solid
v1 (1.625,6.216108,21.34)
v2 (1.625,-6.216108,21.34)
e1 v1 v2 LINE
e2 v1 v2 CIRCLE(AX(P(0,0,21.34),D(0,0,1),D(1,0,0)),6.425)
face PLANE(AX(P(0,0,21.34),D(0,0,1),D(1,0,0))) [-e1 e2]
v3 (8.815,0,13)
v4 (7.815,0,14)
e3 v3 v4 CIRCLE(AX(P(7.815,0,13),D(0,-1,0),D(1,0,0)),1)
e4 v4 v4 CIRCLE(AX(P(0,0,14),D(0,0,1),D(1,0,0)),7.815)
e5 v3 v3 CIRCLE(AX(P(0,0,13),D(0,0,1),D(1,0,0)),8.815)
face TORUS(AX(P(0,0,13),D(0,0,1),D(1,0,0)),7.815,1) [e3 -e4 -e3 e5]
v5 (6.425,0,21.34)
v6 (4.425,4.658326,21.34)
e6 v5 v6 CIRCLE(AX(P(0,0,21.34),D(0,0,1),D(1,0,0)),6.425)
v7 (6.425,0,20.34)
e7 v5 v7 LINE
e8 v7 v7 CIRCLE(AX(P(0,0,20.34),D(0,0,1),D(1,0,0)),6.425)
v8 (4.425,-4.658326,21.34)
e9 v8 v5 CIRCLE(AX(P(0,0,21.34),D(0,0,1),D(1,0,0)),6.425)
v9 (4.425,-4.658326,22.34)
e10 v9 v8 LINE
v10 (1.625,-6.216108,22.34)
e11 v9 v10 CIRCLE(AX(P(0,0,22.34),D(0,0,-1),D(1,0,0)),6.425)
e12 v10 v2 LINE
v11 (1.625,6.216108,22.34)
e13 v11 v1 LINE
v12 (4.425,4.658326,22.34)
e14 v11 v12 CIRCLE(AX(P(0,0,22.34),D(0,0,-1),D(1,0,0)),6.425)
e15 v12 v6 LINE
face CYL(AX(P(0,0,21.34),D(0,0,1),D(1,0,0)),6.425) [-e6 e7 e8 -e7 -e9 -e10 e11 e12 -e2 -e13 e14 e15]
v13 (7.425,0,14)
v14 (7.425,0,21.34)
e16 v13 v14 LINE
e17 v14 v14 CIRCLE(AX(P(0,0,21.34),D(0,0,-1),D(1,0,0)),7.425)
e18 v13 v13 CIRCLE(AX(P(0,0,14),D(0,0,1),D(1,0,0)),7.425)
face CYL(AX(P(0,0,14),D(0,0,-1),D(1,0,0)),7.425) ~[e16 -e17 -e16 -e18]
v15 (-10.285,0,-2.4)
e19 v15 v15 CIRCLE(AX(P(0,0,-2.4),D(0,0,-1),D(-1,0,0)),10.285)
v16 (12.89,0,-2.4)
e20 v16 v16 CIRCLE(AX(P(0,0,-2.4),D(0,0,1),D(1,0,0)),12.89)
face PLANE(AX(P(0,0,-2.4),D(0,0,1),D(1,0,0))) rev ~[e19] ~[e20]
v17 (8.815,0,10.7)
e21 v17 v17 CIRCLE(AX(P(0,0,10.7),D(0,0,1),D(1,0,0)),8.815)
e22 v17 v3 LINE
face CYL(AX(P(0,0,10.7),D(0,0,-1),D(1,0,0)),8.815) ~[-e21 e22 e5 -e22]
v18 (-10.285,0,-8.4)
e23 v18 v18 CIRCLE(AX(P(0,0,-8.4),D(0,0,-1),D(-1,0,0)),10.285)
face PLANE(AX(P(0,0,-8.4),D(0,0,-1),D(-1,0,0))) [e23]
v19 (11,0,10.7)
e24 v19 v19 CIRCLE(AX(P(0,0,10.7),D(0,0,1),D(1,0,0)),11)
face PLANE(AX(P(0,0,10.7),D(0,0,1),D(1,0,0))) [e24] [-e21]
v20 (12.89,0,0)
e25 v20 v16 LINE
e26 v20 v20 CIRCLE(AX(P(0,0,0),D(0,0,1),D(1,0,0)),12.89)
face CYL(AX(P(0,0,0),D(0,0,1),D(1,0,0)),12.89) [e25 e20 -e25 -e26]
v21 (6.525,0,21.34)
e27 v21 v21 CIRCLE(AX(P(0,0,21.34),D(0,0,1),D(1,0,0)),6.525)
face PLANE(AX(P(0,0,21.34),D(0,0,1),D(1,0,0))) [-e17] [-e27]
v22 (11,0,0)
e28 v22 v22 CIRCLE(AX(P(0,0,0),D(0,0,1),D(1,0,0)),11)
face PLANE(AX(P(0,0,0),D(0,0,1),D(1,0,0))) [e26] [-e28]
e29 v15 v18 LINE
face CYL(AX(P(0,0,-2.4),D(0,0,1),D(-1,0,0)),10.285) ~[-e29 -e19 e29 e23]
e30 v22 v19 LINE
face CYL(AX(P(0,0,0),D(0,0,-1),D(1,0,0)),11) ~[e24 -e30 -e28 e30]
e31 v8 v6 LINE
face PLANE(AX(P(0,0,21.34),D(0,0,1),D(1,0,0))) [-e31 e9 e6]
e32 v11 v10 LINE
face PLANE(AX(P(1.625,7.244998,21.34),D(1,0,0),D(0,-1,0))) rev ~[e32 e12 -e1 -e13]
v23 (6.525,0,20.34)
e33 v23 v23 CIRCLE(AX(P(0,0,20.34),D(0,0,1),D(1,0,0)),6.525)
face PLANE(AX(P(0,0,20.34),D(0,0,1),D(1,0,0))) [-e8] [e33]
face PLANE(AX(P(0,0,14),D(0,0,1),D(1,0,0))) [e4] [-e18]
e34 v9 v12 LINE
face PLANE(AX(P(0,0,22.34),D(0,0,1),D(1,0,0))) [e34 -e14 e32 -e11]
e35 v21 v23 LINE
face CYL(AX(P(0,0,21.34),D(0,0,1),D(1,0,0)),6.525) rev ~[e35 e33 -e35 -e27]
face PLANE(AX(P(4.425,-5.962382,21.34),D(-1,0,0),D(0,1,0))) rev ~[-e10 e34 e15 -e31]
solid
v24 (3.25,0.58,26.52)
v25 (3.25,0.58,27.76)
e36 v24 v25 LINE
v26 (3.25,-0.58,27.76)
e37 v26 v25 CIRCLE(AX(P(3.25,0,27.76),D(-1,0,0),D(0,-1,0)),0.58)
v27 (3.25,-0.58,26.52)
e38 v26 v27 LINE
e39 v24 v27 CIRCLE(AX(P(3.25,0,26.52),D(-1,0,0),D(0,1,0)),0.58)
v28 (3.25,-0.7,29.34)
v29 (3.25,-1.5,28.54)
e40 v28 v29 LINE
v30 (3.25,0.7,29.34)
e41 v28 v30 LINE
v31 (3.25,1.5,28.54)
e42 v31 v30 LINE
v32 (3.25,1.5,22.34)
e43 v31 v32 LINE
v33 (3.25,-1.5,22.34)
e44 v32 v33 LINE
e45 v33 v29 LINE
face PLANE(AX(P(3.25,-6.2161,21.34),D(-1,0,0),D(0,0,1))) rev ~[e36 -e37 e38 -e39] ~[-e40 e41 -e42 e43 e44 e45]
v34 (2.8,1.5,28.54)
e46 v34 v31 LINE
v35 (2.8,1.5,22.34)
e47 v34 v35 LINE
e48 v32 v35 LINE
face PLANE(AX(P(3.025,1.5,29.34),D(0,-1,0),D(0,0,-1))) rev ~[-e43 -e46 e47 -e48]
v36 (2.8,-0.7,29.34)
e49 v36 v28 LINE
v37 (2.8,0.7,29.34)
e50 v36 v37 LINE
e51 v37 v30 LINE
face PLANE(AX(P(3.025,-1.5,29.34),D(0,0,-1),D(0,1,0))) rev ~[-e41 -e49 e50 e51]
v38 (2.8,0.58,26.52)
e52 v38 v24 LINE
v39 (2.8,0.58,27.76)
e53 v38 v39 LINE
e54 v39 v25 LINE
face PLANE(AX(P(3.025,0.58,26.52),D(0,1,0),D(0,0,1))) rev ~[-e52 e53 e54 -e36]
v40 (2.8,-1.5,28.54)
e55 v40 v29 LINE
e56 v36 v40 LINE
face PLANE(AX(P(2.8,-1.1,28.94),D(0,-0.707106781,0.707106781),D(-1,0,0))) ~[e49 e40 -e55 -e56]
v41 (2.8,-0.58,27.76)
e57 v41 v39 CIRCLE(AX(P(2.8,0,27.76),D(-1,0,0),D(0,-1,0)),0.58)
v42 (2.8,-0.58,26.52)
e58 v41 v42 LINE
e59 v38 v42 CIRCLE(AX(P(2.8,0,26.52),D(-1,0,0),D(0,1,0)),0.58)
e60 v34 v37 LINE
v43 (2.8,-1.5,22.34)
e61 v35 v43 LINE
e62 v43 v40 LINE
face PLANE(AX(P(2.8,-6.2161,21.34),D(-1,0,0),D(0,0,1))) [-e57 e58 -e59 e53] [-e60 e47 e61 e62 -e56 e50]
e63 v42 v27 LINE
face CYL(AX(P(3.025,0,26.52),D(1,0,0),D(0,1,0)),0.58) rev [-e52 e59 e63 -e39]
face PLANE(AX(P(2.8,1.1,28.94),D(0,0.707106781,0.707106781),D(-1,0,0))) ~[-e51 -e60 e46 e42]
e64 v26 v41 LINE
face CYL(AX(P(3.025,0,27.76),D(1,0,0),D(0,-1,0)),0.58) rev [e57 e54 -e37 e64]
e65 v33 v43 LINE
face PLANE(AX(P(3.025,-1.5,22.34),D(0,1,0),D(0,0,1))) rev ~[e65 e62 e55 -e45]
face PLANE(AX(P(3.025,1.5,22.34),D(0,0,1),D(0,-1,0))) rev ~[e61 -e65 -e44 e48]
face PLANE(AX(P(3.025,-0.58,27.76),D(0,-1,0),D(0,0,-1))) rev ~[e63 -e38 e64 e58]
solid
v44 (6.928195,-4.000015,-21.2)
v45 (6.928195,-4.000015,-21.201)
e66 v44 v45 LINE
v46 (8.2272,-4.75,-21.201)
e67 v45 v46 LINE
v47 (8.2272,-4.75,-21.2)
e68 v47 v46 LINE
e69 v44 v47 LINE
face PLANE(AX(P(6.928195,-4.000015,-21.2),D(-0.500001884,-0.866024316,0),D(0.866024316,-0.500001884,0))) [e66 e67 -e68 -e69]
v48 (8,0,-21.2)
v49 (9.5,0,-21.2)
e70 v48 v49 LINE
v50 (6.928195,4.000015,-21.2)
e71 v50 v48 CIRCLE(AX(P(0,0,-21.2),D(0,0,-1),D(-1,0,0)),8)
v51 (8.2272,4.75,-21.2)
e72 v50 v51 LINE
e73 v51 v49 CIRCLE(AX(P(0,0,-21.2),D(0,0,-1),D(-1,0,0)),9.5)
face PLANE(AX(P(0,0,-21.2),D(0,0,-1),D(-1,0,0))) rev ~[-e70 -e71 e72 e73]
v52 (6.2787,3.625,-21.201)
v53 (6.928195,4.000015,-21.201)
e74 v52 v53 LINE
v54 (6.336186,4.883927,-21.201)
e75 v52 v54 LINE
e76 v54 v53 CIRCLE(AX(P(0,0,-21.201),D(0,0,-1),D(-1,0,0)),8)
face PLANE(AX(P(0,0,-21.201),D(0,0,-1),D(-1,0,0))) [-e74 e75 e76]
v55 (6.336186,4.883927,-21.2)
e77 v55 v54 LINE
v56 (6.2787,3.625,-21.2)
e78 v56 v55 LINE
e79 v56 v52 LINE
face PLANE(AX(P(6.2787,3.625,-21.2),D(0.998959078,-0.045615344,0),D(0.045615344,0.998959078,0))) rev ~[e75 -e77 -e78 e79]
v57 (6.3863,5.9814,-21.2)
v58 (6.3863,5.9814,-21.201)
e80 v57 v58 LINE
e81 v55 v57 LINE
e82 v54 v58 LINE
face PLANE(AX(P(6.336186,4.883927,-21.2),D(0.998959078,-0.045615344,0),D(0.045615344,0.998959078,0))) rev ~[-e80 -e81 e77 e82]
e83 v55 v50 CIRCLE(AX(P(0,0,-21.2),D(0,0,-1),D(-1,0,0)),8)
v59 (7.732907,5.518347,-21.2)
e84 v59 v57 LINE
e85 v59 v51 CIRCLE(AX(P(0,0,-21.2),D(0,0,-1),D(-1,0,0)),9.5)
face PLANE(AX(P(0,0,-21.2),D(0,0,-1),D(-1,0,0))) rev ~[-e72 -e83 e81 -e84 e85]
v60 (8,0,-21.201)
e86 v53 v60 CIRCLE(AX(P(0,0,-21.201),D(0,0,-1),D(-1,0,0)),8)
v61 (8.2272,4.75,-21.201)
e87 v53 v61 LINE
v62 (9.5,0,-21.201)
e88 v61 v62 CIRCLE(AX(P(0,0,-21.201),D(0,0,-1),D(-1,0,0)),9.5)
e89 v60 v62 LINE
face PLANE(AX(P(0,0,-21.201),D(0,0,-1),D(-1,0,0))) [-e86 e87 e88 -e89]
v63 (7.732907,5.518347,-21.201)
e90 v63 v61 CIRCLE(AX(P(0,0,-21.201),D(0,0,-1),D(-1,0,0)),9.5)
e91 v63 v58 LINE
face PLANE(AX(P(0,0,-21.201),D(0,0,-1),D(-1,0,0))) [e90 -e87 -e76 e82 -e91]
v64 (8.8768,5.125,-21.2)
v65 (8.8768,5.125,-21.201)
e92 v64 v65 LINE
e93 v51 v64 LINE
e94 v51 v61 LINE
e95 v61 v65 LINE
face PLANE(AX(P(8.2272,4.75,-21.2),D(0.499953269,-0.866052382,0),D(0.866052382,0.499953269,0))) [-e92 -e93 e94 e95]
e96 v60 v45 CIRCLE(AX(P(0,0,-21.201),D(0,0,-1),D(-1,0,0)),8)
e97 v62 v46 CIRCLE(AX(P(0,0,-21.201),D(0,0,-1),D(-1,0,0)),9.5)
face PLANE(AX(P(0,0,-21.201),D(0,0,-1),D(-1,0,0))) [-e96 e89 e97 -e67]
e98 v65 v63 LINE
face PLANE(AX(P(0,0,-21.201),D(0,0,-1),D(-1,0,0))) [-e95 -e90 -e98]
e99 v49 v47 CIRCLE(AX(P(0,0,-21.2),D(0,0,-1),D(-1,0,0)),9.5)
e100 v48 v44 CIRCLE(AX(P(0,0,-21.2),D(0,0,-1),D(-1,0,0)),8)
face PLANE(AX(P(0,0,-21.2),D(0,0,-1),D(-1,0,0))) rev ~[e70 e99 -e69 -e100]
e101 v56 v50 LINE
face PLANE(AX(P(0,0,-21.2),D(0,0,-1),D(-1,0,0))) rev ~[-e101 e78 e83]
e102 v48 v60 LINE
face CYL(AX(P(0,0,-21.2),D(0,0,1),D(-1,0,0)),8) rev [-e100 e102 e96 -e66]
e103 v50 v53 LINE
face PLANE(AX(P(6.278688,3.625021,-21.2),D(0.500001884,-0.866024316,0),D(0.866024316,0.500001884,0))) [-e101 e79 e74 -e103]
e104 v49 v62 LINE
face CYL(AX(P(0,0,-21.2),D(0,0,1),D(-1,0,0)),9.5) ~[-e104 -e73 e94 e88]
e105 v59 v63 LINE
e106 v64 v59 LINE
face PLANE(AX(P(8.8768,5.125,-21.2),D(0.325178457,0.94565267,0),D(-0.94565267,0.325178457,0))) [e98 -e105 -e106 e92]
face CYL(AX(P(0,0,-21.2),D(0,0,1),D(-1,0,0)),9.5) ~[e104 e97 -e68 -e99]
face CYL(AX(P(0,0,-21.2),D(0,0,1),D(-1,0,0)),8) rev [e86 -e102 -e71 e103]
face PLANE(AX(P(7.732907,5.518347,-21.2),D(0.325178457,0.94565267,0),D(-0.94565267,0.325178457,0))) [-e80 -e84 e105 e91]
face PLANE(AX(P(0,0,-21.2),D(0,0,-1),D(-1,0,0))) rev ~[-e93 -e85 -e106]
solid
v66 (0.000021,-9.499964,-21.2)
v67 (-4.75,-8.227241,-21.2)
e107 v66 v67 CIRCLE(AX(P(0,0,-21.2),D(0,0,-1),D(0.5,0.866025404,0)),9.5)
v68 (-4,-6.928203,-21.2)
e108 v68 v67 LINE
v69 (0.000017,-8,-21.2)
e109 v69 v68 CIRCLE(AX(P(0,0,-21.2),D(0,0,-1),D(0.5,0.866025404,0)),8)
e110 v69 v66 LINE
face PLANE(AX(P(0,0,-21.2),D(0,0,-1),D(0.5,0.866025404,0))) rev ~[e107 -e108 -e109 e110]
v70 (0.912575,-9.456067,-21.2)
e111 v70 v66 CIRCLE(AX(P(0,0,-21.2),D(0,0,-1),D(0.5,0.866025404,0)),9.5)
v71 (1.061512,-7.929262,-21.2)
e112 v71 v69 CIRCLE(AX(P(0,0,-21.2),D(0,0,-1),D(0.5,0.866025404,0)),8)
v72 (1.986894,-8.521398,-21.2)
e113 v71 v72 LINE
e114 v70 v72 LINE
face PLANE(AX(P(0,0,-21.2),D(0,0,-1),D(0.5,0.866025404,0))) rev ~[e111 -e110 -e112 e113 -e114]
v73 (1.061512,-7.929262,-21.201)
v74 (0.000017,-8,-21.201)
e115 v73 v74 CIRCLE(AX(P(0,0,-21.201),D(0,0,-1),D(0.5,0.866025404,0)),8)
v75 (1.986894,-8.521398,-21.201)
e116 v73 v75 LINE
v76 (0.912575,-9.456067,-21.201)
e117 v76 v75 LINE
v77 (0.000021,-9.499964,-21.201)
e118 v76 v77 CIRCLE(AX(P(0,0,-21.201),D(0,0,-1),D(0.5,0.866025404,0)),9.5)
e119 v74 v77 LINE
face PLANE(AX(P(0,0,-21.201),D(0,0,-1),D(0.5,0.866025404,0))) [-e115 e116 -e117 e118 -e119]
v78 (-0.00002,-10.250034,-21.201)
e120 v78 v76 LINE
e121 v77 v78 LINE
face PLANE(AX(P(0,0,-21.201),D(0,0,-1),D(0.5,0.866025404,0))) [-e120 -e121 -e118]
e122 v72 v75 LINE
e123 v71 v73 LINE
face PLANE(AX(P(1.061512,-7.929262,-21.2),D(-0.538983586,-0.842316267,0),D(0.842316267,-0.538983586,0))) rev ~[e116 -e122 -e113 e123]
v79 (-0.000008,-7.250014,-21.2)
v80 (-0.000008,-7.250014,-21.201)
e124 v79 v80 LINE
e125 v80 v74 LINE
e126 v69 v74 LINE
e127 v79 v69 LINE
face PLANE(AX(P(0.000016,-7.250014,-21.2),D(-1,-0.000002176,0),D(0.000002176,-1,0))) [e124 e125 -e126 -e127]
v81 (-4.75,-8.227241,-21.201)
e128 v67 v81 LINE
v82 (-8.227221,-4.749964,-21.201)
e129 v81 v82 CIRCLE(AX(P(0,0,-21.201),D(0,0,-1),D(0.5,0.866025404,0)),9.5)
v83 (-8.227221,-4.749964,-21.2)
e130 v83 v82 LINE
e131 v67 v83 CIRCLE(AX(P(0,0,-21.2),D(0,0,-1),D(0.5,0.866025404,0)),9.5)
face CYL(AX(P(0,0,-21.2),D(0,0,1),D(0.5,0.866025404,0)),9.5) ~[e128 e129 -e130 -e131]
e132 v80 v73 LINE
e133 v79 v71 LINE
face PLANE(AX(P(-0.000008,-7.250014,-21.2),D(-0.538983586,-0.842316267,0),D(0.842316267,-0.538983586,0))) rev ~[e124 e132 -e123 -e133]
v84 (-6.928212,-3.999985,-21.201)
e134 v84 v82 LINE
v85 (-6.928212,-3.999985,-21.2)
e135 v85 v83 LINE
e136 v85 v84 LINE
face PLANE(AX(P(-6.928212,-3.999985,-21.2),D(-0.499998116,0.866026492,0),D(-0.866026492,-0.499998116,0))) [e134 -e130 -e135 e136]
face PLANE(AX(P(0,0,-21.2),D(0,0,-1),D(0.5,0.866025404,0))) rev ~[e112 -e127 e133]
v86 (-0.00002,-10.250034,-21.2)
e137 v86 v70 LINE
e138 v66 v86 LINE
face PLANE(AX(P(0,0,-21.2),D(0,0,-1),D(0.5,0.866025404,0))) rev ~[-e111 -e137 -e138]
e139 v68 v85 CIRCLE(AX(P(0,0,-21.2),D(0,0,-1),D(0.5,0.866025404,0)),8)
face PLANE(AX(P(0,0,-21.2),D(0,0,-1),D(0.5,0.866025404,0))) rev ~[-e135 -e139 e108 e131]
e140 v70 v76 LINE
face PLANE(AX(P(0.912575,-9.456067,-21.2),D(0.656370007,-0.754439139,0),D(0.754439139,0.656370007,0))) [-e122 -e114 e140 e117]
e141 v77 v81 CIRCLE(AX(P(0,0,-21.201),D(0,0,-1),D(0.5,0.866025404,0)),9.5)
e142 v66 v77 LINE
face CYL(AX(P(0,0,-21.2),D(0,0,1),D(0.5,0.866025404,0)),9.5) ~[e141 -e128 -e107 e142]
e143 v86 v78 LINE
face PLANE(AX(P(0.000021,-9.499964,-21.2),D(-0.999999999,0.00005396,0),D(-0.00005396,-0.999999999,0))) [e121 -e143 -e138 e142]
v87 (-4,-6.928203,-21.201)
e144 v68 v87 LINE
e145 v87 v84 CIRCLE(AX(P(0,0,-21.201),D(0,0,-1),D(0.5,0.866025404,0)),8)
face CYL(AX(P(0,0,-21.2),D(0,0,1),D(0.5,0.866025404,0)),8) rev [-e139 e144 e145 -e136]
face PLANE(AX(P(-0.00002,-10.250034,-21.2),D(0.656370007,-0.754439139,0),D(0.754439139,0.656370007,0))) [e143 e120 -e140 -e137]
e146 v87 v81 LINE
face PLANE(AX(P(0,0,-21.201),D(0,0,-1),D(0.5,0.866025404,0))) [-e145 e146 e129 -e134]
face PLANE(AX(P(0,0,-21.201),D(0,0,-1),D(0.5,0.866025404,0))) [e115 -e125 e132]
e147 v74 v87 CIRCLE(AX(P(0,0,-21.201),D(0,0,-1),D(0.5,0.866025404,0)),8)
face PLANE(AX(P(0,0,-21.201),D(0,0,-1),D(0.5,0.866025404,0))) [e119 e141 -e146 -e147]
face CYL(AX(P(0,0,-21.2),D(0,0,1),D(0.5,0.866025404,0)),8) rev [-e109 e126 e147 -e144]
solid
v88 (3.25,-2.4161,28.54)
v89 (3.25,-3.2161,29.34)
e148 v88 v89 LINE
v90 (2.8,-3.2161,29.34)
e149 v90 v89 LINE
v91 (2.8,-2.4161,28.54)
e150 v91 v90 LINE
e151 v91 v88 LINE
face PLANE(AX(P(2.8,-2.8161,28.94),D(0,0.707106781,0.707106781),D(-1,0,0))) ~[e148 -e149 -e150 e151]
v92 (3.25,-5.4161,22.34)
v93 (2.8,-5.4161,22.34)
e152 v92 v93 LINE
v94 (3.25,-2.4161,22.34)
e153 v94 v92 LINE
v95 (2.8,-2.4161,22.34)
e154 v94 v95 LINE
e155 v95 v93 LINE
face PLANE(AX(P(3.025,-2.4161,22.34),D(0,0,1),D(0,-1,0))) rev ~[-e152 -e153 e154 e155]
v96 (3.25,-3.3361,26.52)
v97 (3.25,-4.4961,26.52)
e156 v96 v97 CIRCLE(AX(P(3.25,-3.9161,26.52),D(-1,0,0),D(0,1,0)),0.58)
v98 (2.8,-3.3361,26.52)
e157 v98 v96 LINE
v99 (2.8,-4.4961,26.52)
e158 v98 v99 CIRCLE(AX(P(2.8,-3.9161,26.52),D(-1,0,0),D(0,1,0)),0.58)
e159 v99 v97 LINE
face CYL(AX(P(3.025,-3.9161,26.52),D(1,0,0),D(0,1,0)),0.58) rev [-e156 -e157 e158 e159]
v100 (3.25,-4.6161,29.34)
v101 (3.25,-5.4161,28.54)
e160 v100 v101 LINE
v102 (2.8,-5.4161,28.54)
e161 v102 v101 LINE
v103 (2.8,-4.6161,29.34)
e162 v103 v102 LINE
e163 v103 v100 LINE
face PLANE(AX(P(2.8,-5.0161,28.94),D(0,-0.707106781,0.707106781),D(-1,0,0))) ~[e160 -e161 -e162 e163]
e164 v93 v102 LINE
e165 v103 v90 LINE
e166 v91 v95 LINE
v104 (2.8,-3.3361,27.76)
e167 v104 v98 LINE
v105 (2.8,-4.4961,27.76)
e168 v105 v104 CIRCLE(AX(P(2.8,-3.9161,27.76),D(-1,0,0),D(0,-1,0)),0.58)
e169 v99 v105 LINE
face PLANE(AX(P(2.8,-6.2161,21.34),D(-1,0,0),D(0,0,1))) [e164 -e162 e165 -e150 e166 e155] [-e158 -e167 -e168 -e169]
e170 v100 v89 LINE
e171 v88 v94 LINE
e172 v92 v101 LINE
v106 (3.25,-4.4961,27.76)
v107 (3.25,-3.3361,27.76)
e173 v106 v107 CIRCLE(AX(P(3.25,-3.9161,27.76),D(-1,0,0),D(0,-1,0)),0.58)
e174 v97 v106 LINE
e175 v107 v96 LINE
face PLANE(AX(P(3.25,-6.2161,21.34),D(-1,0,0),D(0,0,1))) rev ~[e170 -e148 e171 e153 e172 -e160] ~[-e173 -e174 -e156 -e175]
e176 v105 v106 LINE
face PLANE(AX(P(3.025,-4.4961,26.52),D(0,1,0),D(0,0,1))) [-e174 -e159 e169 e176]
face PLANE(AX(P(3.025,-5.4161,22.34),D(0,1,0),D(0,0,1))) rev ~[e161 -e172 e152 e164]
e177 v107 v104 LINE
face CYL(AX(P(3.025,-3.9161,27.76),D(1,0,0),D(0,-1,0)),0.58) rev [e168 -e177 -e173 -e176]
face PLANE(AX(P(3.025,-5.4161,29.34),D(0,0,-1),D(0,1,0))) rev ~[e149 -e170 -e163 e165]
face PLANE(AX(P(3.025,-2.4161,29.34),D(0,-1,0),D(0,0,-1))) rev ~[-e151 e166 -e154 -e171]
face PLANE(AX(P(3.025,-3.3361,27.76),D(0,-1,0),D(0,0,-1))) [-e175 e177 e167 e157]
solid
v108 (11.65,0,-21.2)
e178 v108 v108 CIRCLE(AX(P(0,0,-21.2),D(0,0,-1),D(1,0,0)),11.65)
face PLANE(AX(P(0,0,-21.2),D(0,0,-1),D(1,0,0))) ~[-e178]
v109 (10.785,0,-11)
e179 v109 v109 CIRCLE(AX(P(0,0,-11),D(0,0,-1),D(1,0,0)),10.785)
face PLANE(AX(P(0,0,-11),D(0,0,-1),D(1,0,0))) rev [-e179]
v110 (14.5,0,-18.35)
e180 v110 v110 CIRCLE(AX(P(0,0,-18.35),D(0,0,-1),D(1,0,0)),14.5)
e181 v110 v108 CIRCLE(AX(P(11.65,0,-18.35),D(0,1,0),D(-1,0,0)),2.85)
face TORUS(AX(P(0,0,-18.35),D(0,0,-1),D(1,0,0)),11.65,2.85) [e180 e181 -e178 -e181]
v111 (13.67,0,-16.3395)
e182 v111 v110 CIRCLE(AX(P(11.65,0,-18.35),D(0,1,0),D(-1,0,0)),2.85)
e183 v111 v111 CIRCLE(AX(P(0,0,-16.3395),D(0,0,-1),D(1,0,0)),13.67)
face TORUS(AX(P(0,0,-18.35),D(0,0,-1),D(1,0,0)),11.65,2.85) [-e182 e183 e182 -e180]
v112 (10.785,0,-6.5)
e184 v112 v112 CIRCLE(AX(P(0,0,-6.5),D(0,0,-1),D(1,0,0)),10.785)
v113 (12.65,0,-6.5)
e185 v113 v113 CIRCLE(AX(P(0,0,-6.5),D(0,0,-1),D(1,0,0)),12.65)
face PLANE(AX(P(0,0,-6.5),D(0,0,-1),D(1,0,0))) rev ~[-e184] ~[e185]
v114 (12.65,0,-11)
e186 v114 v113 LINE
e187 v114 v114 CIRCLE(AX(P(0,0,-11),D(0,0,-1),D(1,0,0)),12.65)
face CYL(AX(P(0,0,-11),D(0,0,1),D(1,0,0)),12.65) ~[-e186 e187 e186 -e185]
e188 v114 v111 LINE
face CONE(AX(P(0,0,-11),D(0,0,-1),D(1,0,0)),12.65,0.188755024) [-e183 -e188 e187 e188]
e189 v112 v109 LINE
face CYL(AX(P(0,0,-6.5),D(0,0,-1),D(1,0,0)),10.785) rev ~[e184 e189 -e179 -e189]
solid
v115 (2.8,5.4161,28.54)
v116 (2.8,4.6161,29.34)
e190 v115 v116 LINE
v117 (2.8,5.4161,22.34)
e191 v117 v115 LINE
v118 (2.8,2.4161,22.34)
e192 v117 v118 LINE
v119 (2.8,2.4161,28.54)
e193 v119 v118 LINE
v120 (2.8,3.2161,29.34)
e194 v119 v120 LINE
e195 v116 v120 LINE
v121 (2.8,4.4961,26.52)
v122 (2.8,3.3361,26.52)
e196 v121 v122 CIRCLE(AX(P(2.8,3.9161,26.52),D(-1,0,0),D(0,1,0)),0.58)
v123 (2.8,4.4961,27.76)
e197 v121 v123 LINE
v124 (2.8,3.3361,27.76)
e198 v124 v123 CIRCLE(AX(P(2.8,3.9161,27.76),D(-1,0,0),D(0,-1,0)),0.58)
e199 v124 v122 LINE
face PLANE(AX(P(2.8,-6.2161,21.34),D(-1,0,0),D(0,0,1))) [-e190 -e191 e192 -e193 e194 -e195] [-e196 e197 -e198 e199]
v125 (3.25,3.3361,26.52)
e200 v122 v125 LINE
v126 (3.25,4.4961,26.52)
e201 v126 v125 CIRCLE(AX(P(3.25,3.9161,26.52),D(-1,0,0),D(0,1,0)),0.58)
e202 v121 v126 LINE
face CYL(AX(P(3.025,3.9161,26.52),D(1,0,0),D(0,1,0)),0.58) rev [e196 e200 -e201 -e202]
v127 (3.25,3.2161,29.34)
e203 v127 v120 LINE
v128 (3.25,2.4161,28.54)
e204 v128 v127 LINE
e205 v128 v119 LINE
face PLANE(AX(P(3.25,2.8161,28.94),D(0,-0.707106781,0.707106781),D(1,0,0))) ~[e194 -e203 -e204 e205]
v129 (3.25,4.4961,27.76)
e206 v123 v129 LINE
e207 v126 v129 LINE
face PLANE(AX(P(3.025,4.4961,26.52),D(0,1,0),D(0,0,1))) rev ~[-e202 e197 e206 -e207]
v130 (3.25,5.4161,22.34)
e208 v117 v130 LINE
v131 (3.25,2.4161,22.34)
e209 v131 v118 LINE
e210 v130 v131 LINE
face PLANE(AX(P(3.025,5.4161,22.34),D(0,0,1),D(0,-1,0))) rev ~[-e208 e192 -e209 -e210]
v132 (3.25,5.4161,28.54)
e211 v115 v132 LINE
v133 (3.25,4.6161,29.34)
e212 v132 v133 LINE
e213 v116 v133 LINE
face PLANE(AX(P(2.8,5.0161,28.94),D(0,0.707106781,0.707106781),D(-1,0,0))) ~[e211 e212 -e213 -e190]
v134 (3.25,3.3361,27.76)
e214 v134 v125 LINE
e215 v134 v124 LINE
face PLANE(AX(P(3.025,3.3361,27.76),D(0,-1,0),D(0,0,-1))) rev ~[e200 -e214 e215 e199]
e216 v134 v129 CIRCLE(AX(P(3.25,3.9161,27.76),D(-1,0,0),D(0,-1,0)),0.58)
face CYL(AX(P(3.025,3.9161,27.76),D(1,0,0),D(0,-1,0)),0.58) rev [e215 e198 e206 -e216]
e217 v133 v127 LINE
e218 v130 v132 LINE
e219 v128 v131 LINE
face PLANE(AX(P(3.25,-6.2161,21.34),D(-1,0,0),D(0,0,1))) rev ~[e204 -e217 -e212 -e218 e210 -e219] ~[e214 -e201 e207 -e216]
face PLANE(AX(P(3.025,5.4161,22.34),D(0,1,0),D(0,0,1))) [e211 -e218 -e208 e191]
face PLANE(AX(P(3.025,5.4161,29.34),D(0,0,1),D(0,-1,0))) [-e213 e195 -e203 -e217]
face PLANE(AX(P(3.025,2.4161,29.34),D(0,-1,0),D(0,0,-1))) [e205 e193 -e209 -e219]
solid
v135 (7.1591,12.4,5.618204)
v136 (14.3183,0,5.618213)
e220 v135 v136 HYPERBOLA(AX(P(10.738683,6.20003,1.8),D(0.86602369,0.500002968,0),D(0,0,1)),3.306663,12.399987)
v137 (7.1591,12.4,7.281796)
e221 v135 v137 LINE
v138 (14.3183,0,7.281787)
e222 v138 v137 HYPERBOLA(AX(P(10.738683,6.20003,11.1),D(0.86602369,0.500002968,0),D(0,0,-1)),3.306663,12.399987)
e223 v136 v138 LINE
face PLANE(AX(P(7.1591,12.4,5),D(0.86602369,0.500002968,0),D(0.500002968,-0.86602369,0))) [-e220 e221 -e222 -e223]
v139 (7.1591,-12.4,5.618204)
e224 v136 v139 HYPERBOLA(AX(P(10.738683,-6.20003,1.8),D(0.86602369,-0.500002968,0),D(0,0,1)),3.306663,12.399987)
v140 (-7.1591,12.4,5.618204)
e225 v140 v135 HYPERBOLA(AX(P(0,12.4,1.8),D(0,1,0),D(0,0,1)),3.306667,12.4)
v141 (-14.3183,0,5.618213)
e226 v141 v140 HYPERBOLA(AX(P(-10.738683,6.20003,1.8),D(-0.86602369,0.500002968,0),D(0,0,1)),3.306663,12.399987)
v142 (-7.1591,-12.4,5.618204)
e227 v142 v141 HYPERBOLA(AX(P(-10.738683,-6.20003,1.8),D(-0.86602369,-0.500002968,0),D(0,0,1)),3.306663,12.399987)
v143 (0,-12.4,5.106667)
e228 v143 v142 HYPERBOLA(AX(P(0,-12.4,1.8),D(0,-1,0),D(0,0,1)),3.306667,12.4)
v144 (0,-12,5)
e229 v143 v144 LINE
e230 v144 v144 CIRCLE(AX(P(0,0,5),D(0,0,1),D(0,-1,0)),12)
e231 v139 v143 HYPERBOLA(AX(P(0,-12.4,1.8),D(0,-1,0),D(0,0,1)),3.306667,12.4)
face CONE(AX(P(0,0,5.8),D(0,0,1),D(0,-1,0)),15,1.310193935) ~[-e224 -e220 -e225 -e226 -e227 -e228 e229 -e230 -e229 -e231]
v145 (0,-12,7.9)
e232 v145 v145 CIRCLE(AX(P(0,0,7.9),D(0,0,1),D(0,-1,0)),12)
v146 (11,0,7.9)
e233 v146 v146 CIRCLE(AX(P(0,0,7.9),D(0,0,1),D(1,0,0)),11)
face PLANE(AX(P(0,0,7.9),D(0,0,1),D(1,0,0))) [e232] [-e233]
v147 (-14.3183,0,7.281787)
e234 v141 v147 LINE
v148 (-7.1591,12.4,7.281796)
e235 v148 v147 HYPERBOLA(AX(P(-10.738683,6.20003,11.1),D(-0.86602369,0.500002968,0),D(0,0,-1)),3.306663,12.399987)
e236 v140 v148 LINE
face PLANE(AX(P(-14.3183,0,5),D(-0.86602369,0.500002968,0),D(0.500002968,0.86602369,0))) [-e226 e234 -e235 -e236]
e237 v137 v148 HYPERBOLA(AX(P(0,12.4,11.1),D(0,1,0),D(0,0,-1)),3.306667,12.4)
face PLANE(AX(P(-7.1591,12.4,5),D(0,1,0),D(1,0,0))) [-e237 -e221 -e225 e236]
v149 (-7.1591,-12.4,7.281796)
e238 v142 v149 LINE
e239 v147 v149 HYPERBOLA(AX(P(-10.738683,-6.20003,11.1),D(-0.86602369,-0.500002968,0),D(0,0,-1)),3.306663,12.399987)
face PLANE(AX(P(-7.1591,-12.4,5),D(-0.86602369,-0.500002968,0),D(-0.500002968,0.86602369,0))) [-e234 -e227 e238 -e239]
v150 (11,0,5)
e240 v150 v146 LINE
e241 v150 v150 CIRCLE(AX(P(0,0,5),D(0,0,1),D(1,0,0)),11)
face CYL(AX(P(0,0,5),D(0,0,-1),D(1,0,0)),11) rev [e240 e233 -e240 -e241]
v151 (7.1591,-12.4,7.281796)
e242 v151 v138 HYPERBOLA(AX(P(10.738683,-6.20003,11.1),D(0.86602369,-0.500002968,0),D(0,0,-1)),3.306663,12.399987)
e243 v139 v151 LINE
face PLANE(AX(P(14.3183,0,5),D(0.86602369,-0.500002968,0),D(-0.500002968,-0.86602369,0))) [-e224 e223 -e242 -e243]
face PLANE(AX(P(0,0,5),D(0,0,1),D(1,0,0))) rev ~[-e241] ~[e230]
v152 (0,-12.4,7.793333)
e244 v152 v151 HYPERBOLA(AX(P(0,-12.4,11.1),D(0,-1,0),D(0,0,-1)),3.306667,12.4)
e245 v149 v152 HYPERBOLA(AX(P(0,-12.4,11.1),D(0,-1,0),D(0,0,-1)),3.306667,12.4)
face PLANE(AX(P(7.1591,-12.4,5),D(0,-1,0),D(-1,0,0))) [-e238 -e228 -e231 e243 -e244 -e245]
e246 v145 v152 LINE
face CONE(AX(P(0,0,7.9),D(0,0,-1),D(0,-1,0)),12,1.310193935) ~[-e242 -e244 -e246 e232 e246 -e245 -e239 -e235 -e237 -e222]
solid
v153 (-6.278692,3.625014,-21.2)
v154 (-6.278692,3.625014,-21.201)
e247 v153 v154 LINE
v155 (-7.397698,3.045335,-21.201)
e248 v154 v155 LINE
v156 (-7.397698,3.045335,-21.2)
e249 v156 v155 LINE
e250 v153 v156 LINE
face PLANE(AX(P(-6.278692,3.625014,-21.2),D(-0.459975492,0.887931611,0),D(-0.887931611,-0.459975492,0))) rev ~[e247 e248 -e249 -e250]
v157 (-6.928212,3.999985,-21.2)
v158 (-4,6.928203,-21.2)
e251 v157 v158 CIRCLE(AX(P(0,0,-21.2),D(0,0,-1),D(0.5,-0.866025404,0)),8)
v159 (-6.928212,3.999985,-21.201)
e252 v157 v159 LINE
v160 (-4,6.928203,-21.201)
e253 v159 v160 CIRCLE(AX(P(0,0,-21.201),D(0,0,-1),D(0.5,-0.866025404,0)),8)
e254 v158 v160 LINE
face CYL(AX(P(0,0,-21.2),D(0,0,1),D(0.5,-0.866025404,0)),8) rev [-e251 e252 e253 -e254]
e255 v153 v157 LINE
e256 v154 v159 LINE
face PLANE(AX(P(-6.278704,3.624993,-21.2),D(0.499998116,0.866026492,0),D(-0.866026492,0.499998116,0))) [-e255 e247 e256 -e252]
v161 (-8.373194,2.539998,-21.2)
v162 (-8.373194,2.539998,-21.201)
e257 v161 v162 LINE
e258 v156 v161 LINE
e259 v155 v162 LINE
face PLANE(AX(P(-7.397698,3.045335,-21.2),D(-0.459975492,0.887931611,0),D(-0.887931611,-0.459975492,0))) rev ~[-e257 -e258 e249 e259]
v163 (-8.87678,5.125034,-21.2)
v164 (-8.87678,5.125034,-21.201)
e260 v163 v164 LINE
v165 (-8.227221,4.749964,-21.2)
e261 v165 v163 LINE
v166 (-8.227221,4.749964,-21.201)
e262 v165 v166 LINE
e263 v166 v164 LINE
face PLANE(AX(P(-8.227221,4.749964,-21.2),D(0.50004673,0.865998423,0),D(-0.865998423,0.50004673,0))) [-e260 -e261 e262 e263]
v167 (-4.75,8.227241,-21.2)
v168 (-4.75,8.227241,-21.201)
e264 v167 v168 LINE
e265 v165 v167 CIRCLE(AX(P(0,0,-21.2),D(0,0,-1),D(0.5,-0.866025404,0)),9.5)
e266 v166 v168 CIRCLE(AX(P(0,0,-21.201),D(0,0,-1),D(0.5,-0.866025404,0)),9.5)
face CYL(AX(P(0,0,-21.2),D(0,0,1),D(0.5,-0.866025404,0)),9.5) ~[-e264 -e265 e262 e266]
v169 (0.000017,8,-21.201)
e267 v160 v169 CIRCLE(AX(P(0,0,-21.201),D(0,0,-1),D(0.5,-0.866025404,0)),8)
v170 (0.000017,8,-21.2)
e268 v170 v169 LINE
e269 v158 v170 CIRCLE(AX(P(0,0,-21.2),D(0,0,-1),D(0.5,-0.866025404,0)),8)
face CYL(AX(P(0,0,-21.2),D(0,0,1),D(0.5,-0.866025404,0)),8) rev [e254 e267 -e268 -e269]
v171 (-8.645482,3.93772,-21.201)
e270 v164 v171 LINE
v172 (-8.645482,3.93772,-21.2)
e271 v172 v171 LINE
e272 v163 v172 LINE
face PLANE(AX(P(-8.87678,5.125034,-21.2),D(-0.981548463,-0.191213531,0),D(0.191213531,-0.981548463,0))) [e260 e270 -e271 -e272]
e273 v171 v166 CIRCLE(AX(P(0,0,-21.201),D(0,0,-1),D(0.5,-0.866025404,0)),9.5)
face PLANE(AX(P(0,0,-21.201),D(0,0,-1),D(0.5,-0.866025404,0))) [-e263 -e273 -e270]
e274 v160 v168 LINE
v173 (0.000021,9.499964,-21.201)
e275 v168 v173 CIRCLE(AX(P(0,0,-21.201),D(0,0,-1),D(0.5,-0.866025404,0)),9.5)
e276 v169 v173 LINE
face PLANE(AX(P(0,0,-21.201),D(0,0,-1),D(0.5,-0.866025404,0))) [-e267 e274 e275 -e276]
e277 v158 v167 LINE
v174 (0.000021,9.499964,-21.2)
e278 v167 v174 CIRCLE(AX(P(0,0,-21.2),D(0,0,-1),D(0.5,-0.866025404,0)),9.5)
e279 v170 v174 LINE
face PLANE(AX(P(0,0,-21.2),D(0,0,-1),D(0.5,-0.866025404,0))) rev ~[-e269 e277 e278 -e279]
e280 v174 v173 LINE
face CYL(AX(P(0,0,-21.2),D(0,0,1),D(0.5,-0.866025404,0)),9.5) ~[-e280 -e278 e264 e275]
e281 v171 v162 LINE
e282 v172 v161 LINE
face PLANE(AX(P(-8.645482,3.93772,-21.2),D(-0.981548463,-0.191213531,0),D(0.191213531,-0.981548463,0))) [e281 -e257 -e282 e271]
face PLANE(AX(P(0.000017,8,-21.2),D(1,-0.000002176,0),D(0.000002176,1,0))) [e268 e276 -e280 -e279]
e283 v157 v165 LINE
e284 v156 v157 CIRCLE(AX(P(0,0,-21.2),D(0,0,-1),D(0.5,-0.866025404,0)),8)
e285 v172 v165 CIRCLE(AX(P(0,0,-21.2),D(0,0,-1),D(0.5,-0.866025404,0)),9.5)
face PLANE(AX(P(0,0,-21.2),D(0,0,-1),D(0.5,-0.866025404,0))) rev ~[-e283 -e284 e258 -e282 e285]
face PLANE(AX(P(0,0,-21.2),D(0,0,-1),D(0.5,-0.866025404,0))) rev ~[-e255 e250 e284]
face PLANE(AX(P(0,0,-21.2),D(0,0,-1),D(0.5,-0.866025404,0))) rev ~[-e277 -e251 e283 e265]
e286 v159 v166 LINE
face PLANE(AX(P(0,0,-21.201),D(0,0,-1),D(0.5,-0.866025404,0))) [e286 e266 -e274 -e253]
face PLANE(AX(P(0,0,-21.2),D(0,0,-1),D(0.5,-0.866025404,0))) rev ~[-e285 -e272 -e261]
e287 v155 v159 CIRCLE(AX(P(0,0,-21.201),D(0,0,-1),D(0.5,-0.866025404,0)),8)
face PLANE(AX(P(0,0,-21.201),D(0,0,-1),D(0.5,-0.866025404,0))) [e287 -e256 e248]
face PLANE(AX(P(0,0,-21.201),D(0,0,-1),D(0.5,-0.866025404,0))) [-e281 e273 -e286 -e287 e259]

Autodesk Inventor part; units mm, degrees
ref_plane "YZ Plane" through (0, 0, 0) normal (1, 0, 0) x (0, 1, 0)
ref_plane "XZ Plane" through (0, 0, 0) normal (0, 1, 0) x (-1, 0, 0)
ref_plane "XY Plane" through (0, 0, 0) normal (0, 0, 1) x (1, 0, 0)
sketch "Sketch1" plane through (0, 0, 0) normal (0, 0, 1) x (1, 0, 0)
  circle A0 centre (0, 0) radius 12.89
  dimension "d0" = 25.78
extrude "Extrusion1" add sketch "Sketch1" against normal blind 2.4
sketch "Sketch2" plane through (0, 0, -2.4) normal (0, 0, -1) x (-1, 0, 0)
  circle A0 centre (0, 0) radius 12.89 construction
  circle A1 centre (0, 0) radius 10.285
  dimension "d3" = 20.57
extrude "Extrusion2" add sketch "Sketch2" along normal blind 6
sketch "Sketch3" plane through (0, 0, 0) normal (0, 0, 1) x (1, 0, 0)
  circle A0 centre (0, 0) radius 12.89 construction
  circle A1 centre (0, 0) radius 11
  dimension "d6" = 22
extrude "Extrusion3" add sketch "Sketch3" along normal blind 10.7
sketch "Sketch4" plane through (0, 0, 10.7) normal (0, 0, 1) x (1, 0, 0)
  circle A0 centre (0, 0) radius 11 construction
  circle A1 centre (0, 0) radius 8.815
  dimension "d9" = 17.63
extrude "Extrusion4" add sketch "Sketch4" along normal blind 3.3
sketch "Sketch5" plane through (0, 0, 14) normal (0, 0, 1) x (1, 0, 0)
  circle A0 centre (0, 0) radius 8.815 construction
  circle A1 centre (0, 0) radius 7.425
  dimension "d12" = 14.85
extrude "Extrusion5" add sketch "Sketch5" along normal blind 7.34
sketch "Sketch6" plane through (0, 0, 21.34) normal (0, 0, 1) x (1, 0, 0)
  circle A0 centre (0, 0) radius 7.425 projected
  line L0 (1.625, -16.212) -> (4.425, -16.212)
  line L1 (4.425, -16.212) -> (4.425, 19.0425)
  line L2 (4.425, 19.0425) -> (1.625, 19.0425)
  line L3 (1.625, 19.0425) -> (1.625, -16.212)
  point P0 (1.625, 7.245)
  point P1 (1.625, -7.245)
  point P2 (4.425, -5.9624)
  point P3 (4.425, 5.9624)
  dimension "d15" = 5.8
  dimension "d16" = 2.8
extrude "Extrusion6" add sketch "Sketch6" along normal blind 1 contours L1 A0 L3
sketch "Sketch7" plane through (0, 0, 21.34) normal (0, 0, 1) x (1, 0, 0)
  arc A0 (1.625, 7.245) -> (1.625, -7.245) centre (0, 0) ccw construction
  circle A1 centre (0, 0) radius 7.425
  circle A2 centre (0, 0) radius 6.425
  dimension "d19" = 1
extrude "Extrusion7" cut sketch "Sketch7" along normal through all
ref_plane "Work Plane1" through (3.025, -6.2161, 21.34) normal (-1, 0, 0) x (0, 0, 1)
sketch "Sketch8" plane through (3.025, -6.2161, 21.34) normal (-1, 0, 0) x (0, 0, 1)
  line L0 (1, 12.4322) -> (1, 0) projected
  line L1 (1, 0.8) -> (8, 0.8)
  line L2 (8, 0.8) -> (8, 3.8)
  line L3 (8, 3.8) -> (1, 3.8)
  line L4 (0.9658, 11.6322) -> (8, 11.6322)
  line L5 (8, 11.6322) -> (8, 8.6322)
  line L6 (8, 8.6322) -> (0.9658, 8.6322)
  line L7 (0.9658, 8.6322) -> (0.9658, 11.6322)
  line L8 (1, 4.7161) -> (8, 4.7161)
  line L9 (8, 4.7161) -> (8, 7.7161)
  line L10 (8, 7.7161) -> (1, 7.7161)
  line L11 (1, 7.7161) -> (1, 4.7161)
  line L12 (-7.34, -2.5989) -> (-7.34, 15.0311) construction
  line L13 (6.42, 2.3) -> (5.18, 2.3) construction
  line L14 (6.42, 2.88) -> (5.18, 2.88)
  line L15 (5.18, 1.72) -> (6.42, 1.72)
  arc A0 (6.42, 1.72) -> (6.42, 2.88) centre (6.42, 2.3) ccw
  arc A1 (5.18, 2.88) -> (5.18, 1.72) centre (5.18, 2.3) ccw
  line L16 (6.42, 6.2161) -> (5.18, 6.2161) construction
  line L17 (6.42, 5.6361) -> (5.18, 5.6361)
  line L18 (5.18, 6.7961) -> (6.42, 6.7961)
  arc A2 (6.42, 5.6361) -> (6.42, 6.7961) centre (6.42, 6.2161) ccw
  arc A3 (5.18, 6.7961) -> (5.18, 5.6361) centre (5.18, 6.2161) ccw
  line L19 (6.42, 10.1322) -> (5.18, 10.1322) construction
  line L20 (6.42, 9.5522) -> (5.18, 9.5522)
  line L21 (5.18, 10.7122) -> (6.42, 10.7122)
  arc A4 (6.42, 9.5522) -> (6.42, 10.7122) centre (6.42, 10.1322) ccw
  arc A5 (5.18, 10.7122) -> (5.18, 9.5522) centre (5.18, 10.1322) ccw
  line L22 (0, 0) -> (1, 0) construction
  line L23 (1, 12.4322) -> (0, 12.4322) construction
  point P0 (-21.34, 6.2161)
  point P1 (-7.34, 6.2161)
  point P2 (8, 6.2161)
  point P3 (5.8, 2.3)
  point P4 (5.8, 6.2161)
  point P5 (5.8, 10.1322)
  point P6 (8, 10.1322)
  point P7 (8, 2.3)
  point P8 (4.6, 2.3)
  point P9 (7, 2.3)
  point P10 (1, 11.6322)
  point P11 (1, 8.6322)
  point P12 (1, 0.8)
  dimension "d22" = 3
  dimension "d23" = 7
  dimension "d25" = 4.8
  dimension "d26" = 1.16
  dimension "d27" = 2.4
  dimension "d28" = 0.8
  dimension "d29" = 0.8
extrude "Extrusion8" add sketch "Sketch8" along normal mid plane 0.45 separate body contours L10 L9 L8 L0 | L0 L4 L5 L6 | L3 L2 L1 L0
chamfer "Chamfer1" distance 0.8 angle 45 6 edges at (3.025, -5.4161, 29.34) (3.025, -2.4161, 29.34) (3.025, -1.5, 29.34) (3.025, 1.5, 29.34) (3.025, 2.4161, 29.34) (3.025, 5.4161, 29.34)
sketch "Sketch10" plane through (0, 0, 0) normal (0, 1, 0) x (-1, 0, 0)
  line L0 (-12.89, -2.4) -> (12.89, -2.4) construction
  line L1 (14.5, -21.2) -> (-14.5, -21.2)
  line L2 (-14.5, -21.2) -> (-14.5, -6.5)
  line L3 (-14.5, -6.5) -> (14.5, -6.5)
  line L4 (14.5, -6.5) -> (14.5, -21.2)
  line L5 (14.5, -21.2) -> (-14.5, -6.5) construction
  line L6 (-14.5, -21.2) -> (14.5, -6.5) construction
  line L7 (-12.65, -6.5) -> (12.65, -6.5)
  line L8 (12.65, -6.5) -> (12.65, -11)
  line L9 (12.65, -11) -> (-12.65, -11)
  line L10 (-12.65, -11) -> (-12.65, -6.5)
  line L11 (-11.65, -21.2) -> (11.65, -21.2)
  line L12 (11.65, -21.2) -> (11.65, -32.8003)
  line L13 (11.65, -32.8003) -> (-11.65, -32.8003) construction
  line L14 (-11.65, -32.8003) -> (-11.65, -21.2)
  circle A0 centre (-11.65, -18.35) radius 2.85
  line L15 (-12.65, -11) -> (-13.67, -16.3395)
  line L16 (-10.785, -6.5) -> (-10.785, -11)
  line L17 (-10.285, -2.4) -> (-10.285, -8.4) construction
  line L18 (0, -6.5) -> (0, -32.8003)
  line L19 (-10.285, -8.4) -> (10.285, -8.4) construction
  point P0 (0, 0)
  point P1 (0, -13.85)
  point P2 (0, -13.85)
  point P3 (0, -11)
  point P4 (0, -13.85)
  point P5 (0, -21.2)
  point P6 (0, -21.2)
  point P7 (0, -11)
  dimension "d35" = 29
  dimension "d36" = 4.1
  dimension "d37" = 14.7
  dimension "d38" = 4.5
  dimension "d39" = 25.3
  dimension "d40" = 23.3
  dimension "d41" = 13.67
  dimension "d42" = 0.5
revolve "Revolution1" add sketch "Sketch10" angle 360 about axis through (0, 0, -6.5) along (0, 0, -1) separate body contours L1 A0 L15 L9 L18 | A0 | L9 L10 L3 L16
thread "Thread1" size "M22x0.5" class "6g" standard "ANSI Metric M Profile" full length
fillet "Fillet1" radius 1 1 edges at (-8.815, 0, 14)
sketch "Sketch11" plane through (0, 0, 21.34) normal (0, 0, 1) x (1, 0, 0)
  circle A0 centre (0, 0) radius 7.425 construction
  circle A1 centre (0, 0) radius 6.425
  circle A2 centre (0, 0) radius 6.525
  dimension "d47" = 1
  dimension "d48" = 0.1
extrude "Extrusion9" cut sketch "Sketch11" against normal blind 1 bodies 1
sketch "Sketch12" plane through (0, 0, -21.2) normal (0, 0, -1) x (-1, 0, 0)
  circle A0 centre (0, 0) radius 11.65 construction
  circle A1 centre (0, 0) radius 9.5
  circle A2 centre (0, 0) radius 8
  line L0 (0, 0) -> (-9.5, 0)
  line L1 (0, 0) -> (4.75, -8.2272)
  line L2 (0, 0) -> (4.75, 8.2272)
  line L3 (0, 0) -> (-8.2272, -4.75)
  line L4 (0, 0) -> (-8.2272, 4.75)
  line L5 (-8.2272, 4.75) -> (-8.8768, 5.125)
  line L6 (-8.8768, 5.125) -> (-6.3863, 5.9814)
  line L7 (-6.2787, 3.625) -> (-6.3863, 5.9814)
  circle A3 centre (0, 0) radius 8.75 construction
  point P0 (-7.5777, 4.375)
  point P1 (-6.9282, -4)
  point P2 (-6.9282, 4)
  dimension "d51" = 1.5
  dimension "d52" = 16
  dimension "d53" = 120
  dimension "d54" = 120
  dimension "d55" = 30
  dimension "d56" = 30
  dimension "d57" = 3
  dimension "d58" = 1.5
  dimension "d59" = 2
  dimension "d60" = 0.75
extrude "Extrusion10" add sketch "Sketch12" along normal blind 0.001 separate body contours L6 L7 A2 L4 A1 | A1 L5 L6 | A1 L0 A2 L3 | L4 A2 L0 A1 | L7 L4 A2
pattern_circular "Circular Pattern1" count 3 over 360 about axis through (0, 0, -8.75) along (0, 0, 1) of "Extrusion10" bodies 4
ref_plane "Work Plane2" through (0, 0, 5) normal (0, 0, 1) x (1, 0, 0)
sketch "Sketch13" plane through (0, 0, 5) normal (0, 0, 1) x (1, 0, 0)
  circle A0 centre (0, 0) radius 12.89 construction
  line L0 (-14.3183, 0) -> (-7.1591, 12.4)
  line L1 (-7.1591, 12.4) -> (7.1591, 12.4)
  line L2 (7.1591, 12.4) -> (14.3183, 0)
  line L3 (14.3183, 0) -> (7.1591, -12.4)
  line L4 (7.1591, -12.4) -> (-7.1591, -12.4)
  line L5 (-7.1591, -12.4) -> (-14.3183, 0)
  circle A1 centre (0, 0) radius 11 projected
  dimension "d67" = 24.8
extrude "Extrusion11" add sketch "Sketch13" along normal blind 2.9 separate body
sketch "Sketch14" plane through (0, 0, 0) normal (1, 0, 0) x (0, 1, 0)
  line L0 (-12.4, 7.9) -> (0, 7.9) construction
  line L1 (-12, 7.9) -> (-15, 7.1)
  line L2 (-12.4, 5.0222) -> (-12.4, 7.9) construction
  line L3 (-12.4, 7.9) -> (-12, 7.9)
  line L4 (-12.7962, 5) -> (0, 5) construction
  line L5 (-15, 5) -> (-12, 5)
  line L6 (-15, 5.8) -> (-12, 5)
  line L7 (-15, 5) -> (-15, 5.8)
  line L8 (0, -4.339) -> (0, 11.9739)
  line L9 (-11, 7.9) -> (-11, 5) construction
  line L10 (-11, 7.9) -> (-11, 5) construction
  line L11 (0, 7.9) -> (-12.4, 7.9) construction
  line L12 (0, 5) -> (-12.4, 5) construction
  line L13 (-15, 7.1) -> (-15, 7.9)
  line L14 (-15, 7.9) -> (-12, 7.9)
  point P0 (0, 0)
  point P1 (-12.7962, 5.0222)
  dimension "d70" = 0.8
  dimension "d71" = 0.8
  dimension "d72" = 3
  dimension "d73" = 3
  dimension "d74" = 1
revolve "Revolution2" cut sketch "Sketch14" angle 360 about axis through (0, 0, -4.339) along (0, 0, 1) bodies 5
equation "\"d29\" = d28"
equation "\"d54\" = d53"
equation "\"d56\" = d55"
equation "\"d58\" = 0.5 * d57"
equation "\"d71\" = d70"
equation "\"d73\" = d72"
properties part number "E-Stop" material "Stainless Steel"
